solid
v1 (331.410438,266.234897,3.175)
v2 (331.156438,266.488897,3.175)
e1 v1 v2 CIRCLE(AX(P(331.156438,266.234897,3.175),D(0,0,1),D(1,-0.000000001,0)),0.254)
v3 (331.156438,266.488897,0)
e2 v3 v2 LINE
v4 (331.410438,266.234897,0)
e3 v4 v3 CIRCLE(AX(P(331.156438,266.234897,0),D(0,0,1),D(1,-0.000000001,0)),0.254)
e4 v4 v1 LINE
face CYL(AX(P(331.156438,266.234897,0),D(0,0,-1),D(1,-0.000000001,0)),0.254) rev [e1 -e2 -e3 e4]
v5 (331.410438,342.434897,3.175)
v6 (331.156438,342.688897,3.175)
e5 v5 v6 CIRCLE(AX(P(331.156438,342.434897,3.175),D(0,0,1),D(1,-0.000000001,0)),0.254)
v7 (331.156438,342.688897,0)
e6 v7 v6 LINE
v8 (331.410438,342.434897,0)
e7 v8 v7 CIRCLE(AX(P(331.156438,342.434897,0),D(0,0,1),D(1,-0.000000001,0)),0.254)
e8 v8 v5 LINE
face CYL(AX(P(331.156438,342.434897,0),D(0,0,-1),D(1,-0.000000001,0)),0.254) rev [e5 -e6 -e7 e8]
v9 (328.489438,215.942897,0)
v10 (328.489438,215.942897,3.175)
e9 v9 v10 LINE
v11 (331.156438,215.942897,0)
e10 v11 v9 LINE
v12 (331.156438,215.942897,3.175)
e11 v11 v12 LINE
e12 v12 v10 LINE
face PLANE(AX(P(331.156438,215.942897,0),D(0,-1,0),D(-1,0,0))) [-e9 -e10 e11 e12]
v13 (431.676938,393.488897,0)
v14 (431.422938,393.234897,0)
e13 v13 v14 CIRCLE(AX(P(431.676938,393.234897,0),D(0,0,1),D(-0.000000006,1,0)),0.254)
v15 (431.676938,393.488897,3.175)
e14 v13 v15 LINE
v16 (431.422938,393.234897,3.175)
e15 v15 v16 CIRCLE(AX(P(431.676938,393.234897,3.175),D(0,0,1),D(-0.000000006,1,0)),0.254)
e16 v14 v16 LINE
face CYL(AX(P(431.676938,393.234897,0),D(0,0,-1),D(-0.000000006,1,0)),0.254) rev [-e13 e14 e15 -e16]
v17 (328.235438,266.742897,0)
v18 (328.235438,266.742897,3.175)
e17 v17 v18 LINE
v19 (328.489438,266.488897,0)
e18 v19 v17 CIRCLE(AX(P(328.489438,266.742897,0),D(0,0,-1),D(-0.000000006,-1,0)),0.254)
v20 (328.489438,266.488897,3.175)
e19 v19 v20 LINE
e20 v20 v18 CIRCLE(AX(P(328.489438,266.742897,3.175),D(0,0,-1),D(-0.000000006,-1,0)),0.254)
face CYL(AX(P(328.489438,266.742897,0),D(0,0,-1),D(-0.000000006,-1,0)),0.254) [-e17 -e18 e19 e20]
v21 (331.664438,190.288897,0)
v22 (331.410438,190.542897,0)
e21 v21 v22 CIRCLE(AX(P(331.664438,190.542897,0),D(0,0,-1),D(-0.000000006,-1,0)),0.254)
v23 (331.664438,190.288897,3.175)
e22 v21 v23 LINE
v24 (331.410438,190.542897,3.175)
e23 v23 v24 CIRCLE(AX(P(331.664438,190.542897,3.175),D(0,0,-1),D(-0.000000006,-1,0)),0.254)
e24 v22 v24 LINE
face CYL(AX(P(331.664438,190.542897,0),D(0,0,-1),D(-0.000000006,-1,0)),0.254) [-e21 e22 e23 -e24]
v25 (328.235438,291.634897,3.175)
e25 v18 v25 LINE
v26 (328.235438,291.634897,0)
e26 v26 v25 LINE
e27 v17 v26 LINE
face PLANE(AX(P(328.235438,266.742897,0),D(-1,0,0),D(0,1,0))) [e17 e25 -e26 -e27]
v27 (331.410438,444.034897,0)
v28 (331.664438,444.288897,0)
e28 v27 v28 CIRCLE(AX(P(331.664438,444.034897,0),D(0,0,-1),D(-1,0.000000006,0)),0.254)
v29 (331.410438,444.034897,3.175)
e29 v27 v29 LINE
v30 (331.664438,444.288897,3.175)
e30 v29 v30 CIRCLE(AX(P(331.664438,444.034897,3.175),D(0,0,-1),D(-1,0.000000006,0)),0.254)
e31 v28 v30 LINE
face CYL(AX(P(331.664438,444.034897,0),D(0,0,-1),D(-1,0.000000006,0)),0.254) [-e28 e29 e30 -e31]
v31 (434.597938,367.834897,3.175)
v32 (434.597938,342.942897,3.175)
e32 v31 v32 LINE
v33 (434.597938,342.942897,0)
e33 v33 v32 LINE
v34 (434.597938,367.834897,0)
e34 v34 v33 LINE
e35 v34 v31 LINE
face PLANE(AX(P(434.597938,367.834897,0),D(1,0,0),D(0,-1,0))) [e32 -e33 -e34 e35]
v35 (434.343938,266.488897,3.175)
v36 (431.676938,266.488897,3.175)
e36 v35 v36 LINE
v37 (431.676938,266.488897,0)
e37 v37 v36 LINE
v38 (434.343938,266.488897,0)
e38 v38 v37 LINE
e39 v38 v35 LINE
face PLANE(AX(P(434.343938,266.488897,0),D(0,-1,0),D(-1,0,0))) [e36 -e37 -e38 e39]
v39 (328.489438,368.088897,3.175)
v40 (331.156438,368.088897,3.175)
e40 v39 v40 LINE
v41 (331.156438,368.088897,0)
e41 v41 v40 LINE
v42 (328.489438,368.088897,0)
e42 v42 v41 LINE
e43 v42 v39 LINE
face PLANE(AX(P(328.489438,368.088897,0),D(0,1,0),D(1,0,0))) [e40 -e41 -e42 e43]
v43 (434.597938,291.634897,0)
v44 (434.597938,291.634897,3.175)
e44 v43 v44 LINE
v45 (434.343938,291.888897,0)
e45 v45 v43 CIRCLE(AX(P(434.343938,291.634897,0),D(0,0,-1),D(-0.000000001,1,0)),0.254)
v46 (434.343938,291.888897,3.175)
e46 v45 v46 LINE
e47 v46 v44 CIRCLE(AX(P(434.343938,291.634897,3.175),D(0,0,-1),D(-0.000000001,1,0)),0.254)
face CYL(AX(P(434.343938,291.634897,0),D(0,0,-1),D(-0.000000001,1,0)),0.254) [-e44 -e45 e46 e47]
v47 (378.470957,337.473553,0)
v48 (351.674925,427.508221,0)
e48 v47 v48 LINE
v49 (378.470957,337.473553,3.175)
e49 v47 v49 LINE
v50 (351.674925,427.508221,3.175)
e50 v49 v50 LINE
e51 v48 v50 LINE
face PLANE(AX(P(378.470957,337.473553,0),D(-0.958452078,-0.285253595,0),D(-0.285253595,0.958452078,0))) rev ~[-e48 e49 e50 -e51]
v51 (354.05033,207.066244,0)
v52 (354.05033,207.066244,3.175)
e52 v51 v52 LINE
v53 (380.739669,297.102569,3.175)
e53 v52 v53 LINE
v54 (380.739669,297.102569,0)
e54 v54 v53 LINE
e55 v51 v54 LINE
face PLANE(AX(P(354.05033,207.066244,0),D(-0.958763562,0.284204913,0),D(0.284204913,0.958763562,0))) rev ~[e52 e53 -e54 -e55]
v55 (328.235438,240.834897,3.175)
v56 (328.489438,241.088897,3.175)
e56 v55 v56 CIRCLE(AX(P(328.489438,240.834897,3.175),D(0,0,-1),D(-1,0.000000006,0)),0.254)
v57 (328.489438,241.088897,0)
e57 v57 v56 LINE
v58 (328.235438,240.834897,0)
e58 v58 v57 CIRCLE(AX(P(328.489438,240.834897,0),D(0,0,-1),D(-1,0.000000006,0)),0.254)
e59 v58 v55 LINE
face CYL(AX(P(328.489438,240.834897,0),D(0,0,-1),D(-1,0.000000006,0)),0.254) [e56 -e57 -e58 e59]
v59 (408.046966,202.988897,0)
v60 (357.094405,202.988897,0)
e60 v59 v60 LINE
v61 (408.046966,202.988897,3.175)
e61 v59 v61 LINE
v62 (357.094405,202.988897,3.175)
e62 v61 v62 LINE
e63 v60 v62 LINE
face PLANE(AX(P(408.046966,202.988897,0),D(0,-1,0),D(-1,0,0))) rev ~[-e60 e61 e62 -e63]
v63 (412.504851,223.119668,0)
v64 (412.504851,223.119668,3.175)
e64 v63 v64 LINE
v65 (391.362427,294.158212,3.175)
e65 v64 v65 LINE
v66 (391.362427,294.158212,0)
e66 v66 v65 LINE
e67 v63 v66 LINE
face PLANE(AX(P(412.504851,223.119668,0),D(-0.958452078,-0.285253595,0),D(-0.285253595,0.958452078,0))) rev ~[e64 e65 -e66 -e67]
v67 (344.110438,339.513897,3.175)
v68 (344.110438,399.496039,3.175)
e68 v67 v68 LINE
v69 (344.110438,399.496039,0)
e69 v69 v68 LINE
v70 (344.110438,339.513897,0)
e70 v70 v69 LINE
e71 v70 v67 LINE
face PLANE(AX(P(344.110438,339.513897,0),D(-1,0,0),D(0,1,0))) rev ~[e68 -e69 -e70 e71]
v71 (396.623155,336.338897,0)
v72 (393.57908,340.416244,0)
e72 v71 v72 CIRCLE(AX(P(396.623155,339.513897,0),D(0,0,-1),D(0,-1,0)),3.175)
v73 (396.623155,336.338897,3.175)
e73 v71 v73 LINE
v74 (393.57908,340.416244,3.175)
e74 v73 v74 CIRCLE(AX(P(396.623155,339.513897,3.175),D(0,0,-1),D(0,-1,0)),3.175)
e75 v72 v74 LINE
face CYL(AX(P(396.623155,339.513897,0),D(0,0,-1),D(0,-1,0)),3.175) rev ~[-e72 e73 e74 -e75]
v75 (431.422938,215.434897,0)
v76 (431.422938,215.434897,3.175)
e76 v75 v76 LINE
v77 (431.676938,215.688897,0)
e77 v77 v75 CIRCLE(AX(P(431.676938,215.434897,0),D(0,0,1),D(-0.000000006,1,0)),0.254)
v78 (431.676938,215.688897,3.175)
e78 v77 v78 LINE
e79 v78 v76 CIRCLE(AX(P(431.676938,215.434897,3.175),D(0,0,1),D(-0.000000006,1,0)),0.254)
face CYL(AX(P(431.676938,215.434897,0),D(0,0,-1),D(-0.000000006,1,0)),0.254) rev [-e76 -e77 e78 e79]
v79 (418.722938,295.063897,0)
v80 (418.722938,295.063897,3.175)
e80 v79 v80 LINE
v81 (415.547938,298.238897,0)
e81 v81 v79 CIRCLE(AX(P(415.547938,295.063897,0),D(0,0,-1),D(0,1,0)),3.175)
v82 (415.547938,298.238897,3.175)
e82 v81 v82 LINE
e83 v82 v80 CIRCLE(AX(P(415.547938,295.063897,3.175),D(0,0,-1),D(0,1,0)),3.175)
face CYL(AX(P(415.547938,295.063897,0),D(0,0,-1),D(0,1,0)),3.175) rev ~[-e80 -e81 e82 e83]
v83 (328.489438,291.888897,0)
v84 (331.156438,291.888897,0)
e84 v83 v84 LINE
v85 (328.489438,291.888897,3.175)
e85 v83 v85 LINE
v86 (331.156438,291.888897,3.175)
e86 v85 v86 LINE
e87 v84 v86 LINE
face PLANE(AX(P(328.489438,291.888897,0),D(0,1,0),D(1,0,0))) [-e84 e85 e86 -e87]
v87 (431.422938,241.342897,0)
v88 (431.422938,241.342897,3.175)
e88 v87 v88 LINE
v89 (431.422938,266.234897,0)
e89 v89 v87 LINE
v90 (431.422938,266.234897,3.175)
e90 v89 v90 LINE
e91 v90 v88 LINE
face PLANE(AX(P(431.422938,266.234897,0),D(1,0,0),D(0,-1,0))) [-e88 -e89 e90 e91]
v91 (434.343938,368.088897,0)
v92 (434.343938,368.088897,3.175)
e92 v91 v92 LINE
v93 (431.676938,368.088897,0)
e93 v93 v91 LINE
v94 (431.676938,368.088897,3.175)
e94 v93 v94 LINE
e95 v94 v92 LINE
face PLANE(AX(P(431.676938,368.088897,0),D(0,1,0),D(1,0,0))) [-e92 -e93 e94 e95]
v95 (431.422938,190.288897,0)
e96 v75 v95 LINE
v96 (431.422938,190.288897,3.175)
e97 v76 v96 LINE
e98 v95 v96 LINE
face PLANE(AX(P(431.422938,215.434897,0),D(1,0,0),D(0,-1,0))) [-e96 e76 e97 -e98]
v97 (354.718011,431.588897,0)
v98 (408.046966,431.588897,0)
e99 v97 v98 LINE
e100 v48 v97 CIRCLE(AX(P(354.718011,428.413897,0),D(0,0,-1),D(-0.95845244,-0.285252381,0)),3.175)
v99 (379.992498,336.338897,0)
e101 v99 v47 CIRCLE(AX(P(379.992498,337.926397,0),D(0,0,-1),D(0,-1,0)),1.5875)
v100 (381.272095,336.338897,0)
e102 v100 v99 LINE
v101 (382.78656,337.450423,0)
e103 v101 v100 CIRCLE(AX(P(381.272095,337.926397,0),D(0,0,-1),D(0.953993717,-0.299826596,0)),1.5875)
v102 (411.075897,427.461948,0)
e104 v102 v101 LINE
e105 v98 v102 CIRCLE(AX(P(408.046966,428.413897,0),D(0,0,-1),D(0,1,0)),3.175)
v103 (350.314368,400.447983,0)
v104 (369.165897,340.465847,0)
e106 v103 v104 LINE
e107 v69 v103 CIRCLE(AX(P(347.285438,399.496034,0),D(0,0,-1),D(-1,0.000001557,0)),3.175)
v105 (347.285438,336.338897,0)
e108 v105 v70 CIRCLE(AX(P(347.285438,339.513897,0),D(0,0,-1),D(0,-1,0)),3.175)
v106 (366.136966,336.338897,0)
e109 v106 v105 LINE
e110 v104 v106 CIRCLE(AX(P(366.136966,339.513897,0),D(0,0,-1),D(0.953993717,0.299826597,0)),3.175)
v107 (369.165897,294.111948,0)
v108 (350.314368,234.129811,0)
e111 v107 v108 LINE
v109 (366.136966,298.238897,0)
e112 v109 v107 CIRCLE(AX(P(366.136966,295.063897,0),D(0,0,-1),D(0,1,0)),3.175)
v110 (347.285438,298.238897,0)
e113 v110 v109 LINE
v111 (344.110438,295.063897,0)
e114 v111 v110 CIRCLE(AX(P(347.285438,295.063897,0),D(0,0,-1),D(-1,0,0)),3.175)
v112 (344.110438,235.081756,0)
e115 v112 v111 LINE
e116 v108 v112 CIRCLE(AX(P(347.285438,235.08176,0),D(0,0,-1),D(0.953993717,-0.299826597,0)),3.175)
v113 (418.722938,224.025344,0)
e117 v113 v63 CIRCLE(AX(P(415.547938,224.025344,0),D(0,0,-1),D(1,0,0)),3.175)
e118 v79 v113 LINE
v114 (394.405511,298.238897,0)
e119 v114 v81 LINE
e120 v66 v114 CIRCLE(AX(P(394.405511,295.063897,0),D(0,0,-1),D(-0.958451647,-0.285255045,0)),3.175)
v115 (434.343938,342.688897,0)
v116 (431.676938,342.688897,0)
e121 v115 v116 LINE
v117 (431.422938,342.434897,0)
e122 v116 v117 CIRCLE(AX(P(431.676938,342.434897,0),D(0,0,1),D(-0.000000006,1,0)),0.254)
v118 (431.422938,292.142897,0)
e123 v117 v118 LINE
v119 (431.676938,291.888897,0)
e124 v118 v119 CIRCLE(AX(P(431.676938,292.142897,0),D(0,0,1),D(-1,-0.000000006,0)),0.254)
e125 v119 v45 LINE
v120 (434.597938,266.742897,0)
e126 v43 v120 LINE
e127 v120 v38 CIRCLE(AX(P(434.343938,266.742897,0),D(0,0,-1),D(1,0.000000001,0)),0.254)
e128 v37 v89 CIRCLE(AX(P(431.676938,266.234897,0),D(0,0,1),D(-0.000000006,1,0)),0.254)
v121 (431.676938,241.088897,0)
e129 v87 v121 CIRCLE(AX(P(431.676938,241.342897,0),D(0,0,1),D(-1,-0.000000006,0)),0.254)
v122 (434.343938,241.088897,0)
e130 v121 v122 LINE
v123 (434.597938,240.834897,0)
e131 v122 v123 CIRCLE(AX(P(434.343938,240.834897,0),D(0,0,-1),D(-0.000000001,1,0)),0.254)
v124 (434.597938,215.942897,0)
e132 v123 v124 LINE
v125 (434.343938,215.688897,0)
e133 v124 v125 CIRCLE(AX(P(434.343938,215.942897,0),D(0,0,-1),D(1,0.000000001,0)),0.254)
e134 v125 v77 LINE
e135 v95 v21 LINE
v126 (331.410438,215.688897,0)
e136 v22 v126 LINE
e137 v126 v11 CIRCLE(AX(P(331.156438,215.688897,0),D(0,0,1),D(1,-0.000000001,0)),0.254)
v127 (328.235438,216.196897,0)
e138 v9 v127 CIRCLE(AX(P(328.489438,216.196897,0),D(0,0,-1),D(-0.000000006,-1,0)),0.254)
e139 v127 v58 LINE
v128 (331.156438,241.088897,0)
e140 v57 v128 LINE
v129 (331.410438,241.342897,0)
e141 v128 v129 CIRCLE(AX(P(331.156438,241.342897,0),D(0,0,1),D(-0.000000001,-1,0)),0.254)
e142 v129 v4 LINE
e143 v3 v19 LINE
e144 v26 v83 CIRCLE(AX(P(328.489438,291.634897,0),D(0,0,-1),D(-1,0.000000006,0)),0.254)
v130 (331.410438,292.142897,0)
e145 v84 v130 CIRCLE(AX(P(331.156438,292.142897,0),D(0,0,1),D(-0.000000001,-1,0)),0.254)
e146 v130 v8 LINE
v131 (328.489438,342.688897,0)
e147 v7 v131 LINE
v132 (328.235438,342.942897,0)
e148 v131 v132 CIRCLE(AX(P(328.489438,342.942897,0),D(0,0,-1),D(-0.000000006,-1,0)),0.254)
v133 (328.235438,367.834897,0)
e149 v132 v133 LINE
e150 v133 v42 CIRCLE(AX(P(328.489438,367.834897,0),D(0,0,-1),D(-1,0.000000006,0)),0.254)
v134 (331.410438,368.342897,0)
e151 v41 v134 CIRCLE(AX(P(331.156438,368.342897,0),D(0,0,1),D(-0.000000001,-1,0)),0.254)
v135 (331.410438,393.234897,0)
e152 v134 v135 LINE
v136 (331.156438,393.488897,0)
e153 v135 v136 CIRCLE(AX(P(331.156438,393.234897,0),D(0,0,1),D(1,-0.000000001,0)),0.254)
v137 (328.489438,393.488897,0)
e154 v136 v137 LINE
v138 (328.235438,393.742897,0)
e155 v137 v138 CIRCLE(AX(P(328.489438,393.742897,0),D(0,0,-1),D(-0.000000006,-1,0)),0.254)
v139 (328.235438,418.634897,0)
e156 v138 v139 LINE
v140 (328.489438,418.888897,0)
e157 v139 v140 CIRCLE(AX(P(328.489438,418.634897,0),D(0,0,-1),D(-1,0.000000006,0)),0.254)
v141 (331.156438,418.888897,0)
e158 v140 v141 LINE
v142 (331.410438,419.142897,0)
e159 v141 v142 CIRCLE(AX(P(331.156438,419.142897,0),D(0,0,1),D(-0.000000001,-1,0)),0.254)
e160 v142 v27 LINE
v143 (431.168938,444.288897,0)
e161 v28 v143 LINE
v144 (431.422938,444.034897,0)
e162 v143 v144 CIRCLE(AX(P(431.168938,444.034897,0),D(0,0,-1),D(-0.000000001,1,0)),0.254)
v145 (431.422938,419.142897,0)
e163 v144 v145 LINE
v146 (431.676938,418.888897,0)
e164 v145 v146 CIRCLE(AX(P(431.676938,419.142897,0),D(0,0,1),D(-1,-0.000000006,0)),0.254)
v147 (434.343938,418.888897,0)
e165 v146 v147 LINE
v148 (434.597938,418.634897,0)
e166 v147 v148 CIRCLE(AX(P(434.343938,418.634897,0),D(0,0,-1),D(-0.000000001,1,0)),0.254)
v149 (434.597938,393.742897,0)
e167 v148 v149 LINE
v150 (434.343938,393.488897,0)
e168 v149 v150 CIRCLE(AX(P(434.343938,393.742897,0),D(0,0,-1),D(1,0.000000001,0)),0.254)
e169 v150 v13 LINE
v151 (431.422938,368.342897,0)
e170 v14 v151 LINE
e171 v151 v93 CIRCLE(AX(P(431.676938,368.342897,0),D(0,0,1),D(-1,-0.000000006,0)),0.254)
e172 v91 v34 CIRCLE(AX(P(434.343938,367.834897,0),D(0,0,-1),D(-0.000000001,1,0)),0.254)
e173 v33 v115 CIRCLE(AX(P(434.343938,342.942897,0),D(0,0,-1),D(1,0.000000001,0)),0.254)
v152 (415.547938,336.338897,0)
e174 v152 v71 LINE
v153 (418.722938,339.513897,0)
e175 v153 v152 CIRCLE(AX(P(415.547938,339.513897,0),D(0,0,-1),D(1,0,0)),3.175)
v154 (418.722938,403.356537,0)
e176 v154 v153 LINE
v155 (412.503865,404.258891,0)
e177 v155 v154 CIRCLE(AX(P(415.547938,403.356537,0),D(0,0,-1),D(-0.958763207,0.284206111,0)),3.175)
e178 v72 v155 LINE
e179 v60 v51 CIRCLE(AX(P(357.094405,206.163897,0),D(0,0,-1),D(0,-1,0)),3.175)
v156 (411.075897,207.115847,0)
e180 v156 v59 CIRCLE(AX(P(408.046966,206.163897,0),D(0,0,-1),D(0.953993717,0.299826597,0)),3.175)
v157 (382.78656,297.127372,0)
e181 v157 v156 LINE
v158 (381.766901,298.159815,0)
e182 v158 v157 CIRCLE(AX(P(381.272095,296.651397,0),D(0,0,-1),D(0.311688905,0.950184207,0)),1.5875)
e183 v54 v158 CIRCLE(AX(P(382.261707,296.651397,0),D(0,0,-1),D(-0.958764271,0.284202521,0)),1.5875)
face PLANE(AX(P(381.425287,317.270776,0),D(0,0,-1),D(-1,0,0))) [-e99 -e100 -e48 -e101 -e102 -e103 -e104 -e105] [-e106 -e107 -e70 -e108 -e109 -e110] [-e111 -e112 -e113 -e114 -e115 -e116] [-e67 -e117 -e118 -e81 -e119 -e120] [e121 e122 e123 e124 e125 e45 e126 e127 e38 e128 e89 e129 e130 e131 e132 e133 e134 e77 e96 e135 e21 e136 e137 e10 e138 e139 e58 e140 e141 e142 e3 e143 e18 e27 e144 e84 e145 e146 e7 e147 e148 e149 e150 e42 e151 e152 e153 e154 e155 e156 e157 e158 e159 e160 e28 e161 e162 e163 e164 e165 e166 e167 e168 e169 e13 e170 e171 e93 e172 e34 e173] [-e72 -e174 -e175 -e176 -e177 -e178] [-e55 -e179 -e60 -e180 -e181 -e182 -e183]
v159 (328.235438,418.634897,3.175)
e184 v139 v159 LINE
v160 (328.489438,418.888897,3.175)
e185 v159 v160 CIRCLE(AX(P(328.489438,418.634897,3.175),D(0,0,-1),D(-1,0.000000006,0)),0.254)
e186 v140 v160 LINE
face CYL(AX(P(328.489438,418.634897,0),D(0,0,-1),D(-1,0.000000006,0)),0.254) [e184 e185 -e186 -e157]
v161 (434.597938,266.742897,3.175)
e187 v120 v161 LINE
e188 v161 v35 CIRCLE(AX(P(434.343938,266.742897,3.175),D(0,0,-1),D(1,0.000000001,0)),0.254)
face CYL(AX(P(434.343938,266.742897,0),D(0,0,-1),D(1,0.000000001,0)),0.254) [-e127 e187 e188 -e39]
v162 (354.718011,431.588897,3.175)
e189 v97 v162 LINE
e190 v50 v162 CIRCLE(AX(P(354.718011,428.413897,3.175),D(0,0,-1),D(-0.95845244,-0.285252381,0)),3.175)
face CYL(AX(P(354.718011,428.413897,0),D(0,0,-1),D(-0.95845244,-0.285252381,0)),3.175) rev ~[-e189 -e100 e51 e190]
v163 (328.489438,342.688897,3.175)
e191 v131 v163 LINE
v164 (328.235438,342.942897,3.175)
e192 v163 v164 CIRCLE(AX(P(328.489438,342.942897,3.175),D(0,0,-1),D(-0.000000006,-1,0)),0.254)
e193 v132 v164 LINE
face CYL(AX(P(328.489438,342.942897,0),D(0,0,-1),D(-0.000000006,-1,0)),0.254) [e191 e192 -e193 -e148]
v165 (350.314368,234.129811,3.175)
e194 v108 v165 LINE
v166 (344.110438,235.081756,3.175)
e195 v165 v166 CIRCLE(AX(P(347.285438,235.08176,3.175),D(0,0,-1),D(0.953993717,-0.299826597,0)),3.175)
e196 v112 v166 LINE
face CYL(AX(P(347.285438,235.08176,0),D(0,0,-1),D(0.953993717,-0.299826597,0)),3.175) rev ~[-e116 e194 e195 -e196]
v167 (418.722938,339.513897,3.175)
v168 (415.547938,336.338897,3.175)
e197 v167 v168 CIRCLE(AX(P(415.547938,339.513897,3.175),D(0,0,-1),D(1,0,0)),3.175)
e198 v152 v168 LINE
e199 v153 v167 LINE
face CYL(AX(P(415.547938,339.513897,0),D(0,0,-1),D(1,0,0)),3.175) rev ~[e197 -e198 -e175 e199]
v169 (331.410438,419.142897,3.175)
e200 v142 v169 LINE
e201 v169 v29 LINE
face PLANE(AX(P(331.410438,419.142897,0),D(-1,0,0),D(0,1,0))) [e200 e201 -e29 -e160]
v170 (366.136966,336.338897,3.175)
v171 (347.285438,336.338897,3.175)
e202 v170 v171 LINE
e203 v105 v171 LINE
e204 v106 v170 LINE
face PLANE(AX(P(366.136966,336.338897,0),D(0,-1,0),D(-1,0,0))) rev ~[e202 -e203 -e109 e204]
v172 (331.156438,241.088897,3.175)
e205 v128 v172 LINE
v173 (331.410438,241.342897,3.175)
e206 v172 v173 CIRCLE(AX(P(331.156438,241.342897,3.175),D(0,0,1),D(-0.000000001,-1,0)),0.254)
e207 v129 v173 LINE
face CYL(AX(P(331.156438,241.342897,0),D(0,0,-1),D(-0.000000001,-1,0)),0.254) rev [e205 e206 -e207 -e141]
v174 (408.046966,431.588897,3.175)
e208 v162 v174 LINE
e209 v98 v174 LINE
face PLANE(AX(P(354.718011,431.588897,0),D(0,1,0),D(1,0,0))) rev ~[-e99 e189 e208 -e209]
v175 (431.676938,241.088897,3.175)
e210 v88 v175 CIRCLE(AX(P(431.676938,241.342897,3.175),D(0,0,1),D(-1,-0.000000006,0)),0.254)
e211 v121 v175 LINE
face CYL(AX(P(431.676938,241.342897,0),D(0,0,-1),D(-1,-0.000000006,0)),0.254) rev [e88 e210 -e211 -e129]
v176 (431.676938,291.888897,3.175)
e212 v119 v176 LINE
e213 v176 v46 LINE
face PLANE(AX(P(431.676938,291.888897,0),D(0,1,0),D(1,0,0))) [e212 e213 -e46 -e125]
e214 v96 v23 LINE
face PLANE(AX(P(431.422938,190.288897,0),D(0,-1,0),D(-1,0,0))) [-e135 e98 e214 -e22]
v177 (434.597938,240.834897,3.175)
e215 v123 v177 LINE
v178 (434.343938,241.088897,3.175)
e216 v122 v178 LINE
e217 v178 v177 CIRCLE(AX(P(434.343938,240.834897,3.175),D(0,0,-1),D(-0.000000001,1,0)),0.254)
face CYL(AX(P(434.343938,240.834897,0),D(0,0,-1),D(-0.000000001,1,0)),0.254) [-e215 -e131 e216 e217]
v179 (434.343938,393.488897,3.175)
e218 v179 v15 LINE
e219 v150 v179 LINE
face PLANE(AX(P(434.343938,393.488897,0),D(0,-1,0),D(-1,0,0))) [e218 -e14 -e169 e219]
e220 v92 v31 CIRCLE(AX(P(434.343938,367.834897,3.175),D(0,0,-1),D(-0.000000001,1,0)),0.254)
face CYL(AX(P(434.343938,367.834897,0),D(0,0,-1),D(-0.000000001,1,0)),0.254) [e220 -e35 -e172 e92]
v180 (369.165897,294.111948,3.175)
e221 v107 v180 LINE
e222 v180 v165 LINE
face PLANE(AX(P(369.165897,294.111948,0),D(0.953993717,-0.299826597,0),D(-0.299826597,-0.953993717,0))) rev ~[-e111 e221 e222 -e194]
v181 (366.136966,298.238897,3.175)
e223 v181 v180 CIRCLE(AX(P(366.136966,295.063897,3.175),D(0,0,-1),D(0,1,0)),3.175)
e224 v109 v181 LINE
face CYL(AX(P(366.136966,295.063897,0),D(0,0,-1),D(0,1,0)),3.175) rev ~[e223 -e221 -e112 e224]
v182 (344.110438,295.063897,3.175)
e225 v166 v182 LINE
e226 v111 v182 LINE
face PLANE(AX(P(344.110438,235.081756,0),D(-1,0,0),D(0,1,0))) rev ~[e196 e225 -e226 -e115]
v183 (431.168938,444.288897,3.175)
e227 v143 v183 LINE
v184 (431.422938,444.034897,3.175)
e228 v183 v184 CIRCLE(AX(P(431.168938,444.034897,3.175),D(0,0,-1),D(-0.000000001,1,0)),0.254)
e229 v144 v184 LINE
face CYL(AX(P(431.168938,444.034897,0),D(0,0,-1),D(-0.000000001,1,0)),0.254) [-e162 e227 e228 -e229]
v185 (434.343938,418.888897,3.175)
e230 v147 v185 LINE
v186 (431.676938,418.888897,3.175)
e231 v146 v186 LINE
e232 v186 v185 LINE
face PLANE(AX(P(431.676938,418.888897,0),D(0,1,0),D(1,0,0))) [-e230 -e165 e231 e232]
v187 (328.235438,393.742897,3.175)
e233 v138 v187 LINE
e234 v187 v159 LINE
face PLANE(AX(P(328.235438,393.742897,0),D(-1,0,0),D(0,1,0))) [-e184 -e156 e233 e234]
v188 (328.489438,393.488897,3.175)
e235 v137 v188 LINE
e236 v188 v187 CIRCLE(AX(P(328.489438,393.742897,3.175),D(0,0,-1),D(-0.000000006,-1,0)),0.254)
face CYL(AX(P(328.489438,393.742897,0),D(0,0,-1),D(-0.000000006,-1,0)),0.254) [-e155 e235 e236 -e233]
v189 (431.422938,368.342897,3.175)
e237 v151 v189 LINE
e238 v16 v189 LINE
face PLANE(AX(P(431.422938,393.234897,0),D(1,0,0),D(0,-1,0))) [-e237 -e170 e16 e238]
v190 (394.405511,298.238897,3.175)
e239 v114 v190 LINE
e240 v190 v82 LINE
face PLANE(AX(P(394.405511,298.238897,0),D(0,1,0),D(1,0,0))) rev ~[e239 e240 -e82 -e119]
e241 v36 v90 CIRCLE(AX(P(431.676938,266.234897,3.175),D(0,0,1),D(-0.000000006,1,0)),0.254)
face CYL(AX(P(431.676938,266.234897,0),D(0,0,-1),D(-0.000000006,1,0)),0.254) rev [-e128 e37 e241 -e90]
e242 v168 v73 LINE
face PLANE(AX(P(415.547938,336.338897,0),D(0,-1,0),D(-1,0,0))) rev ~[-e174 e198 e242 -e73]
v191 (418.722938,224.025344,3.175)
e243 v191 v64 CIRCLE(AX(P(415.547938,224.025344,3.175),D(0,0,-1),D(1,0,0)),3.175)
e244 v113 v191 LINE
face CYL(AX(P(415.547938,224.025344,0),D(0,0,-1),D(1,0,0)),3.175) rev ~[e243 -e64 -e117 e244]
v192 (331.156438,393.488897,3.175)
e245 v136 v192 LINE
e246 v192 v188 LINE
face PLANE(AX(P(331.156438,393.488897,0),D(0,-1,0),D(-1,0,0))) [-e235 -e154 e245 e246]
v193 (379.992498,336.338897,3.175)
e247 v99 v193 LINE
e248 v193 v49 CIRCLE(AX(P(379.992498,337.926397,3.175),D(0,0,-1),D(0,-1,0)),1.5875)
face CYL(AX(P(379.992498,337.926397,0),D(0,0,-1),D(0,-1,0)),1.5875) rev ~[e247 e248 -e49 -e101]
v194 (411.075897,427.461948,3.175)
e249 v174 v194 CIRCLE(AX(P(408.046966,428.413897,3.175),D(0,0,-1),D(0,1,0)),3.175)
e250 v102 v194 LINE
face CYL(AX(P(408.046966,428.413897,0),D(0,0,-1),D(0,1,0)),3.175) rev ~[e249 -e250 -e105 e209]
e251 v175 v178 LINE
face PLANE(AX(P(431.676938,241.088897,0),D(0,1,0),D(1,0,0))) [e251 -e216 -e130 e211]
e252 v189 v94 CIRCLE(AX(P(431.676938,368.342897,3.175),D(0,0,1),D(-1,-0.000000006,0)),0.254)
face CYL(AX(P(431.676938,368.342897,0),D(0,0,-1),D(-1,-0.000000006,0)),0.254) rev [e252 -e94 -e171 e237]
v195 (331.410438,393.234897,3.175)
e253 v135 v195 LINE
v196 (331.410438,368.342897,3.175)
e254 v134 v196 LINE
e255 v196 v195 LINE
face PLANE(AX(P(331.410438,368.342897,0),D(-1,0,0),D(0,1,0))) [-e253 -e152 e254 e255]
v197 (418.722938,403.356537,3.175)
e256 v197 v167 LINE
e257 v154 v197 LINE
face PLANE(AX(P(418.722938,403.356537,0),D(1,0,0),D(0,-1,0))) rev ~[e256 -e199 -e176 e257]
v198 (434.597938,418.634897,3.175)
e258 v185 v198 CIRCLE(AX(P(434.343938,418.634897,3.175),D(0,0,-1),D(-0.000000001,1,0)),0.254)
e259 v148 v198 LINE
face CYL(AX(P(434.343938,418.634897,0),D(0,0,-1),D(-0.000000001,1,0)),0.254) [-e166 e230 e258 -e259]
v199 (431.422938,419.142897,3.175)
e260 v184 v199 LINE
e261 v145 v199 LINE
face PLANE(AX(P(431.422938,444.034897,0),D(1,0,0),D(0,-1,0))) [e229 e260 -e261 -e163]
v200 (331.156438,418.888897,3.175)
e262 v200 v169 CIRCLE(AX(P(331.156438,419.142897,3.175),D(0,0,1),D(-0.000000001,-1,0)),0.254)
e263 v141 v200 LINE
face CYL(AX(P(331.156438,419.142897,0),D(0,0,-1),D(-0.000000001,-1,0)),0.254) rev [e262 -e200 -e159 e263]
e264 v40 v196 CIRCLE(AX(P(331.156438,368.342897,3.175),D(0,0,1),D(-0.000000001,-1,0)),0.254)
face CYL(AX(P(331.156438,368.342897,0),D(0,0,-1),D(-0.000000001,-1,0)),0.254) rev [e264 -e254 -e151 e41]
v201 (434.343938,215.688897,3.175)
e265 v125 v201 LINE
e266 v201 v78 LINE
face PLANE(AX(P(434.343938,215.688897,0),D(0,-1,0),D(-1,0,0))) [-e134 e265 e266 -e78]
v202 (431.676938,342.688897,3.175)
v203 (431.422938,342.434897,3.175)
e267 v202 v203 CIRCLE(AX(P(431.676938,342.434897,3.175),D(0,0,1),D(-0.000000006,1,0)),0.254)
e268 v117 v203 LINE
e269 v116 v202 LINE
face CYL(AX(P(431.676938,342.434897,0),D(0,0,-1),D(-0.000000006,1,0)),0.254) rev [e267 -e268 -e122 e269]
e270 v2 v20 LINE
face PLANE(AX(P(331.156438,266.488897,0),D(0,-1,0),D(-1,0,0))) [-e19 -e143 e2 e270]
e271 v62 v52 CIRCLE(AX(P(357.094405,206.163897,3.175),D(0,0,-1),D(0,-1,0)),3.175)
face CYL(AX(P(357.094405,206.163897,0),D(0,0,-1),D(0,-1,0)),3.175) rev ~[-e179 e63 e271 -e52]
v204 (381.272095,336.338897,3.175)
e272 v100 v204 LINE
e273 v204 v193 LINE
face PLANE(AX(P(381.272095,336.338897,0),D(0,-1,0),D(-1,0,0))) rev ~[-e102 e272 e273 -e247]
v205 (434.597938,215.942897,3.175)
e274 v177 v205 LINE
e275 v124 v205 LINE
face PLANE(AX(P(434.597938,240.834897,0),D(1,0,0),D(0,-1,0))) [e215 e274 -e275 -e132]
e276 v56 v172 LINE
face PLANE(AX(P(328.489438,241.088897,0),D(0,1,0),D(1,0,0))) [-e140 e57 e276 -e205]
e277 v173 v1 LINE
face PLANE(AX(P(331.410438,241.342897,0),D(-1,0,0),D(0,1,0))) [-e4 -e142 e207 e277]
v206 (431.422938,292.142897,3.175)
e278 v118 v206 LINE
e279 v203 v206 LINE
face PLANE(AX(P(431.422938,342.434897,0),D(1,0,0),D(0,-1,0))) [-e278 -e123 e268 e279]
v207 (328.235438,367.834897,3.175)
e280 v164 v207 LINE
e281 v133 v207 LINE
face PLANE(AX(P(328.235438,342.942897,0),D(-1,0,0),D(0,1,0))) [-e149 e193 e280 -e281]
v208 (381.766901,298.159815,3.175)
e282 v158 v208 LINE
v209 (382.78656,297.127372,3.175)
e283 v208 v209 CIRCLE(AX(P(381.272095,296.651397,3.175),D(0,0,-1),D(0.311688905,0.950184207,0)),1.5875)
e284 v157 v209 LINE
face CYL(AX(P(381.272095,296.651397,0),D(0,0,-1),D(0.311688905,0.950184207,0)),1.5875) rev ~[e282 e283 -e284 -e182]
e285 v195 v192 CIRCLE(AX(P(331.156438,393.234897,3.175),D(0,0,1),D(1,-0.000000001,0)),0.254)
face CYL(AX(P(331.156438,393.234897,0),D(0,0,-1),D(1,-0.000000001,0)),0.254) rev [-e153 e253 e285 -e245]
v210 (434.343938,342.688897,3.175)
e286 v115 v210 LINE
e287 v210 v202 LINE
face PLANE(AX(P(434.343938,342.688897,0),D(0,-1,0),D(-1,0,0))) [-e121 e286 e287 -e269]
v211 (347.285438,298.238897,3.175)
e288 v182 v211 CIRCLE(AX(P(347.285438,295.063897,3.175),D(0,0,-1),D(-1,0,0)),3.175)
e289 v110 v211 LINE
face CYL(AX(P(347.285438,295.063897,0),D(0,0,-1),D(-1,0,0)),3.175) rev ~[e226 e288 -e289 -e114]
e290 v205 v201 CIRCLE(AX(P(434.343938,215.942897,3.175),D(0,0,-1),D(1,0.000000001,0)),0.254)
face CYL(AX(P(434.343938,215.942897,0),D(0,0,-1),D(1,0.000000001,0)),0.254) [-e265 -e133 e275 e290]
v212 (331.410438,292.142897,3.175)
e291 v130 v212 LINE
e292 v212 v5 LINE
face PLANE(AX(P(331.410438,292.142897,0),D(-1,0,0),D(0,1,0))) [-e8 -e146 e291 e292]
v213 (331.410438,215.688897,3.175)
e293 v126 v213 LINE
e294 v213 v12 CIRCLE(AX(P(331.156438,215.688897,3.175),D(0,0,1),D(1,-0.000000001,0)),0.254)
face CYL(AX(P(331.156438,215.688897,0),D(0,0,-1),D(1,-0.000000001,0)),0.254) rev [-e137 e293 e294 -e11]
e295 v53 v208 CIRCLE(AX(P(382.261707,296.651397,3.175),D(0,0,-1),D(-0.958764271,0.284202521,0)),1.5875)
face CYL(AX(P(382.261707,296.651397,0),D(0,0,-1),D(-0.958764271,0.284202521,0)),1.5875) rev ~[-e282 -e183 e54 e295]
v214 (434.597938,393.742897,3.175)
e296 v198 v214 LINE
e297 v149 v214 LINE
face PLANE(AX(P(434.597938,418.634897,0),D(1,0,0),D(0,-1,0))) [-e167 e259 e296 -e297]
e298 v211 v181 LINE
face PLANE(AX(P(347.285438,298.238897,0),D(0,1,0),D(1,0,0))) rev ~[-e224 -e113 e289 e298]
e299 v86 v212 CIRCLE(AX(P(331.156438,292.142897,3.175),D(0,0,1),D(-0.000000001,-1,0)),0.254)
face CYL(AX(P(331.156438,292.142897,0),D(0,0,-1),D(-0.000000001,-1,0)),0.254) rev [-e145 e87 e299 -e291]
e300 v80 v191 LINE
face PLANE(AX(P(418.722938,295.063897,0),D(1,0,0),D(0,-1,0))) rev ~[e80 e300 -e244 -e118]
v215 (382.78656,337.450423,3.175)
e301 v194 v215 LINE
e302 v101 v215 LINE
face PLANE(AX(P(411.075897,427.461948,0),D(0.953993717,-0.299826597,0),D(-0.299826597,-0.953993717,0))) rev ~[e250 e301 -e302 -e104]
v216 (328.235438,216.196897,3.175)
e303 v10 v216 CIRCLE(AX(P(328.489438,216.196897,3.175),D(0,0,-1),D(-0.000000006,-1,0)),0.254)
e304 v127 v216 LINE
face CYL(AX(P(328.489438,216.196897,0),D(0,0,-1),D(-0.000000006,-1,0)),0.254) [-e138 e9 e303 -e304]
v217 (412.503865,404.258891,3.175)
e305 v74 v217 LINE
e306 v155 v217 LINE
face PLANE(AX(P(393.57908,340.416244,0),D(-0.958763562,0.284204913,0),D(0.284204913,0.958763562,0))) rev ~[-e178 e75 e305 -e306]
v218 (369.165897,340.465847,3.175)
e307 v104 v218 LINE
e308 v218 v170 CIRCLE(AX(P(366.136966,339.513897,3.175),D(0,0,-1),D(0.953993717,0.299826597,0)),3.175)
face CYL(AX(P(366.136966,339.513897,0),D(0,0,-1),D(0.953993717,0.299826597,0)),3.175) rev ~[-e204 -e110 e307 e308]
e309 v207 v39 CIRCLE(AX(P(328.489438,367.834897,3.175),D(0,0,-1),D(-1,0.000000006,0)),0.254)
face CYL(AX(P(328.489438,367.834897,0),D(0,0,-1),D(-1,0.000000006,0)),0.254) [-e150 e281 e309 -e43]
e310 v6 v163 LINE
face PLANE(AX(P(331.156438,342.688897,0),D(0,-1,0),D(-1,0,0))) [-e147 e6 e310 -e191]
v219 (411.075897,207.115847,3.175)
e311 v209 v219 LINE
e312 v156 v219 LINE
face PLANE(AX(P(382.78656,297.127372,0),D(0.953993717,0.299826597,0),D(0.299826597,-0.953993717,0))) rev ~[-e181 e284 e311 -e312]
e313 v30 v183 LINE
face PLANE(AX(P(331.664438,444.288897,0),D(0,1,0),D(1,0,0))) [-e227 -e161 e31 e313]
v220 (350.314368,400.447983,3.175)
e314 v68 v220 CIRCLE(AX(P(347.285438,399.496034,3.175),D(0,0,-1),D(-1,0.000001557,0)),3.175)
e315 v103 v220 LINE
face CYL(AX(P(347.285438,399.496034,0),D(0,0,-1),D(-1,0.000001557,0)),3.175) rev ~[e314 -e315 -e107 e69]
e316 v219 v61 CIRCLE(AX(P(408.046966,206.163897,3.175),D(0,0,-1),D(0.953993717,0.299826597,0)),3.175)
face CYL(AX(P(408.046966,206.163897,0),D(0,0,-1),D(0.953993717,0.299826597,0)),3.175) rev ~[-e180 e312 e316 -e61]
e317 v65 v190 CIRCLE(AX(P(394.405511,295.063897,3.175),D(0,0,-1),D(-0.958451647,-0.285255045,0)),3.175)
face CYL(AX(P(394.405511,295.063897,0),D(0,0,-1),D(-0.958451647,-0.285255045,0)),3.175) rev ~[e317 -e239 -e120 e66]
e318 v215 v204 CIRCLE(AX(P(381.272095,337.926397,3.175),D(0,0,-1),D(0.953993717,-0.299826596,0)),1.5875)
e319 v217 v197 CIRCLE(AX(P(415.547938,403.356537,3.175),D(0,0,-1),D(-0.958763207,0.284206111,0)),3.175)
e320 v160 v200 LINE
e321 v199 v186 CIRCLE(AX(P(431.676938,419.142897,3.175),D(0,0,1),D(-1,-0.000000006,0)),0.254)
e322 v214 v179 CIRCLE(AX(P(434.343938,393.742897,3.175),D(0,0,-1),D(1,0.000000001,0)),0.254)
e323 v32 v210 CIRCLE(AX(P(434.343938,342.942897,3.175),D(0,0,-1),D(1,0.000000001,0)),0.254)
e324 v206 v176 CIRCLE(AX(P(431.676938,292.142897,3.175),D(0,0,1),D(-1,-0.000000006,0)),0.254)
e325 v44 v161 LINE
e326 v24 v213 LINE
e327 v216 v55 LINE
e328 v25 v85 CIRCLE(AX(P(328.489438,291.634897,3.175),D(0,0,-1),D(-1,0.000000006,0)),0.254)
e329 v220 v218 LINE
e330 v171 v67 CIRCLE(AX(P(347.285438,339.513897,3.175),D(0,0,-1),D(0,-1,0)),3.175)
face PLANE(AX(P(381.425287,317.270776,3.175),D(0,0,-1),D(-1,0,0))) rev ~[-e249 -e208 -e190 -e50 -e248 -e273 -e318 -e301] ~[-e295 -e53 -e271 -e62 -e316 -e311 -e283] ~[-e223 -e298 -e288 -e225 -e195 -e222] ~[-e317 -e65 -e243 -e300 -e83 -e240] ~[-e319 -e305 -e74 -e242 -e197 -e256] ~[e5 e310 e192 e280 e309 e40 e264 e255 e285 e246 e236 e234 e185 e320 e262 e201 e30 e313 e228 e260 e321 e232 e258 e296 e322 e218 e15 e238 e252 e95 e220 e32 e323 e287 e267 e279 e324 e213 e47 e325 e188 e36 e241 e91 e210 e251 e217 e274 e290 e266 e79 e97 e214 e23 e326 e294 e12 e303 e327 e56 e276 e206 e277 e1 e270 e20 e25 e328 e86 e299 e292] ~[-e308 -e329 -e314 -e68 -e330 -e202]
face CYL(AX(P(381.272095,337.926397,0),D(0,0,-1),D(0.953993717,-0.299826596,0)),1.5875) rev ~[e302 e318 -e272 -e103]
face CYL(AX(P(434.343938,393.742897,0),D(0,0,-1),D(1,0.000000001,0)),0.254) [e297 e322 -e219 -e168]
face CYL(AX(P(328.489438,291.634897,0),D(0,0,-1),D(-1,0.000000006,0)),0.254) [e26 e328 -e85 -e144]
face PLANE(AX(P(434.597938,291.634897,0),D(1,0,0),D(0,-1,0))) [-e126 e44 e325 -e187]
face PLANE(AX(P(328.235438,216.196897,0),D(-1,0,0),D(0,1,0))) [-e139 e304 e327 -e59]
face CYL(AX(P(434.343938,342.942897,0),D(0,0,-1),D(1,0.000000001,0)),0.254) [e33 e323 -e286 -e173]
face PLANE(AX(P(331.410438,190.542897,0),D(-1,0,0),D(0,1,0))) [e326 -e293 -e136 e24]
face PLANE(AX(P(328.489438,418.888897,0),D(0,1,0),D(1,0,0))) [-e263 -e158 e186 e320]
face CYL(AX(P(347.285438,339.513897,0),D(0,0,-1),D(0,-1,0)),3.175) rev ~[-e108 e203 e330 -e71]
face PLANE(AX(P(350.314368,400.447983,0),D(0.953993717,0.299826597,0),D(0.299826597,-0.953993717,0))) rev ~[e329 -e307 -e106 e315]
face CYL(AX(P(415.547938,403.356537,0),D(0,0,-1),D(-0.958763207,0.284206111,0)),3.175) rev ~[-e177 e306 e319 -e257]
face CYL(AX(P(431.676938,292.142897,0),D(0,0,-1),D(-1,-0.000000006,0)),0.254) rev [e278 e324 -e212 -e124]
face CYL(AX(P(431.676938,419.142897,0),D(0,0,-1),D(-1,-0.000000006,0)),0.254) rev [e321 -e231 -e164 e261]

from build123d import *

# Parameters (mm, degrees)
BOSS_EXTRUDE3_DEPTH = 3.175


with BuildPart() as part:
    # Model → Boss-Extrude3 (new body)
    with BuildSketch(Plane.XY):
        with BuildLine():
            Line((431.422937797, 190.288897242), (331.664437797, 190.288897242))
            ThreePointArc((331.664437797, 190.288897242), (331.484832675, 190.36329212), (331.410437797, 190.542897242))
            Line((331.410437797, 190.542897242), (331.410437797, 215.688897242))
            ThreePointArc((331.410437797, 215.688897242), (331.33604292, 215.868502364), (331.156437797, 215.942897242))
            Line((331.156437797, 215.942897242), (328.489437797, 215.942897242))
            ThreePointArc((328.489437797, 215.942897242), (328.309832675, 216.01729212), (328.235437797, 216.196897242))
            Line((328.235437797, 216.196897242), (328.235437797, 240.834897242))
            ThreePointArc((328.235437797, 240.834897242), (328.309832675, 241.014502364), (328.489437797, 241.088897242))
            Line((328.489437797, 241.088897242), (331.156437797, 241.088897242))
            ThreePointArc((331.156437797, 241.088897242), (331.33604292, 241.16329212), (331.410437797, 241.342897242))
            Line((331.410437797, 241.342897242), (331.410437797, 266.234897242))
            ThreePointArc((331.410437797, 266.234897242), (331.33604292, 266.414502364), (331.156437797, 266.488897242))
            Line((331.156437797, 266.488897242), (328.489437797, 266.488897242))
            ThreePointArc((328.489437797, 266.488897242), (328.309832675, 266.56329212), (328.235437797, 266.742897242))
            Line((328.235437797, 266.742897242), (328.235437797, 291.634897242))
            ThreePointArc((328.235437797, 291.634897242), (328.309832675, 291.814502364), (328.489437797, 291.888897242))
            Line((328.489437797, 291.888897242), (331.156437797, 291.888897242))
            ThreePointArc((331.156437797, 291.888897242), (331.33604292, 291.96329212), (331.410437797, 292.142897242))
            Line((331.410437797, 292.142897242), (331.410437797, 342.434897242))
            ThreePointArc((331.410437797, 342.434897242), (331.33604292, 342.614502364), (331.156437797, 342.688897242))
            Line((331.156437797, 342.688897242), (328.489437797, 342.688897242))
            ThreePointArc((328.489437797, 342.688897242), (328.309832675, 342.76329212), (328.235437797, 342.942897242))
            Line((328.235437797, 342.942897242), (328.235437797, 367.834897242))
            ThreePointArc((328.235437797, 367.834897242), (328.309832675, 368.014502364), (328.489437797, 368.088897242))
            Line((328.489437797, 368.088897242), (331.156437797, 368.088897242))
            ThreePointArc((331.156437797, 368.088897242), (331.33604292, 368.16329212), (331.410437797, 368.342897242))
            Line((331.410437797, 368.342897242), (331.410437797, 393.234897242))
            ThreePointArc((331.410437797, 393.234897242), (331.33604292, 393.414502364), (331.156437797, 393.488897242))
            Line((331.156437797, 393.488897242), (328.489437797, 393.488897242))
            ThreePointArc((328.489437797, 393.488897242), (328.309832675, 393.56329212), (328.235437797, 393.742897242))
            Line((328.235437797, 393.742897242), (328.235437797, 418.634897242))
            ThreePointArc((328.235437797, 418.634897242), (328.309832675, 418.814502364), (328.489437797, 418.888897242))
            Line((328.489437797, 418.888897242), (331.156437797, 418.888897242))
            ThreePointArc((331.156437797, 418.888897242), (331.33604292, 418.96329212), (331.410437797, 419.142897242))
            Line((331.410437797, 419.142897242), (331.410437797, 444.034897242))
            ThreePointArc((331.410437797, 444.034897242), (331.484832675, 444.214502364), (331.664437797, 444.288897242))
            Line((331.664437797, 444.288897242), (431.168937797, 444.288897242))
            ThreePointArc((431.168937797, 444.288897242), (431.34854292, 444.214502364), (431.422937797, 444.034897242))
            Line((431.422937797, 444.034897242), (431.422937797, 419.142897242))
            ThreePointArc((431.422937797, 419.142897242), (431.497332675, 418.96329212), (431.676937797, 418.888897242))
            Line((431.676937797, 418.888897242), (434.343937797, 418.888897242))
            ThreePointArc((434.343937797, 418.888897242), (434.52354292, 418.814502364), (434.597937797, 418.634897242))
            Line((434.597937797, 418.634897242), (434.597937797, 393.742897242))
            ThreePointArc((434.597937797, 393.742897242), (434.52354292, 393.56329212), (434.343937797, 393.488897242))
            Line((434.343937797, 393.488897242), (431.676937797, 393.488897242))
            ThreePointArc((431.676937797, 393.488897242), (431.497332675, 393.414502364), (431.422937797, 393.234897242))
            Line((431.422937797, 393.234897242), (431.422937797, 368.342897242))
            ThreePointArc((431.422937797, 368.342897242), (431.497332675, 368.16329212), (431.676937797, 368.088897242))
            Line((431.676937797, 368.088897242), (434.343937797, 368.088897242))
            ThreePointArc((434.343937797, 368.088897242), (434.52354292, 368.014502364), (434.597937797, 367.834897242))
            Line((434.597937797, 367.834897242), (434.597937797, 342.942897242))
            ThreePointArc((434.597937797, 342.942897242), (434.52354292, 342.76329212), (434.343937797, 342.688897242))
            Line((434.343937797, 342.688897242), (431.676937797, 342.688897242))
            ThreePointArc((431.676937797, 342.688897242), (431.497332675, 342.614502364), (431.422937797, 342.434897242))
            Line((431.422937797, 342.434897242), (431.422937797, 292.142897242))
            ThreePointArc((431.422937797, 292.142897242), (431.497332675, 291.96329212), (431.676937797, 291.888897242))
            Line((431.676937797, 291.888897242), (434.343937797, 291.888897242))
            ThreePointArc((434.343937797, 291.888897242), (434.52354292, 291.814502364), (434.597937797, 291.634897242))
            Line((434.597937797, 291.634897242), (434.597937797, 266.742897242))
            ThreePointArc((434.597937797, 266.742897242), (434.52354292, 266.56329212), (434.343937797, 266.488897242))
            Line((434.343937797, 266.488897242), (431.676937797, 266.488897242))
            ThreePointArc((431.676937797, 266.488897242), (431.497332675, 266.414502364), (431.422937797, 266.234897242))
            Line((431.422937797, 266.234897242), (431.422937797, 241.342897242))
            ThreePointArc((431.422937797, 241.342897242), (431.497332675, 241.16329212), (431.676937797, 241.088897242))
            Line((431.676937797, 241.088897242), (434.343937797, 241.088897242))
            ThreePointArc((434.343937797, 241.088897242), (434.52354292, 241.014502364), (434.597937797, 240.834897242))
            Line((434.597937797, 240.834897242), (434.597937797, 215.942897242))
            ThreePointArc((434.597937797, 215.942897242), (434.52354292, 215.76329212), (434.343937797, 215.688897242))
            Line((434.343937797, 215.688897242), (431.676937797, 215.688897242))
            ThreePointArc((431.676937797, 215.688897242), (431.497332675, 215.614502364), (431.422937797, 215.434897242))
            Line((431.422937797, 215.434897242), (431.422937797, 190.288897242))
        make_face()
        with BuildLine():
            Line((382.786560027, 297.127371964), (411.075896543, 207.115846687))
            ThreePointArc((411.075896543, 207.115846687), (410.606562601, 204.285309273), (408.046966492, 202.988897242))
            Line((408.046966492, 202.988897242), (357.094405319, 202.988897242))
            ThreePointArc((357.094405319, 202.988897242), (354.550237774, 204.264466668), (354.050329968, 207.066244326))
            Line((354.050329968, 207.066244326), (380.739668991, 297.102568741))
            ThreePointArc((380.739668991, 297.102568741), (381.123130271, 297.75765158), (381.766901137, 298.15981467))
            ThreePointArc((381.766901137, 298.15981467), (382.401598049, 297.766914662), (382.786560027, 297.127371964))
        make_face(mode=Mode.SUBTRACT)
        with BuildLine():
            Line((394.40551129, 298.238897242), (415.547937797, 298.238897242))
            ThreePointArc((415.547937797, 298.238897242), (417.793001827, 297.308961272), (418.722937797, 295.063897242))
            Line((418.722937797, 295.063897242), (418.722937797, 224.025344178))
            ThreePointArc((418.722937797, 224.025344178), (416.005554119, 220.88349563), (412.504851308, 223.119667846))
            Line((412.504851308, 223.119667846), (391.362427311, 294.158212475))
            ThreePointArc((391.362427311, 294.158212475), (391.860302641, 296.961932524), (394.40551129, 298.238897242))
        make_face(mode=Mode.SUBTRACT)
        with BuildLine():
            Line((354.71801129, 431.588897242), (408.046966492, 431.588897242))
            ThreePointArc((408.046966492, 431.588897242), (410.606562601, 430.292485211), (411.075896543, 427.461947797))
            Line((411.075896543, 427.461947797), (382.786560027, 337.45042252))
            ThreePointArc((382.786560027, 337.45042252), (382.211388986, 336.646599187), (381.272095002, 336.338897242))
            Line((381.272095002, 336.338897242), (379.992498353, 336.338897242))
            ThreePointArc((379.992498353, 336.338897242), (379.043481575, 336.653792274), (378.470956978, 337.473552796))
            Line((378.470956978, 337.473552796), (351.674924794, 427.508220933))
            ThreePointArc((351.674924794, 427.508220933), (352.172805279, 430.311936061), (354.71801129, 431.588897242))
        make_face(mode=Mode.SUBTRACT)
        with BuildLine():
            Line((418.722937797, 403.356536927), (418.722937797, 339.513897242))
            ThreePointArc((418.722937797, 339.513897242), (417.793001827, 337.268833212), (415.547937797, 336.338897242))
            Line((415.547937797, 336.338897242), (396.623155319, 336.338897242))
            ThreePointArc((396.623155319, 336.338897242), (394.078987861, 337.614466553), (393.579079886, 340.416244049))
            Line((393.579079886, 340.416244049), (412.503864616, 404.25889133))
            ThreePointArc((412.503864616, 404.25889133), (416.003839459, 406.498634741), (418.722937797, 403.356536927))
        make_face(mode=Mode.SUBTRACT)
        with BuildLine():
            Line((350.314367848, 400.447983443), (369.165896543, 340.465846687))
            ThreePointArc((369.165896543, 340.465846687), (368.696562601, 337.635309273), (366.136966492, 336.338897242))
            Line((366.136966492, 336.338897242), (347.285437797, 336.338897242))
            ThreePointArc((347.285437797, 336.338897242), (345.040373767, 337.268833212), (344.110437797, 339.513897242))
            Line((344.110437797, 339.513897242), (344.110437797, 399.496038941))
            ThreePointArc((344.110437797, 399.496038941), (346.803894766, 402.634304431), (350.314367848, 400.447983443))
        make_face(mode=Mode.SUBTRACT)
        with BuildLine():
            Line((369.165896543, 294.111947797), (350.314367848, 234.129811041))
            ThreePointArc((350.314367848, 234.129811041), (346.803894766, 231.943490053), (344.110437797, 235.081755542))
            Line((344.110437797, 235.081755542), (344.110437797, 295.063897242))
            ThreePointArc((344.110437797, 295.063897242), (345.040373767, 297.308961272), (347.285437797, 298.238897242))
            Line((347.285437797, 298.238897242), (366.136966492, 298.238897242))
            ThreePointArc((366.136966492, 298.238897242), (368.696562601, 296.942485211), (369.165896543, 294.111947797))
        make_face(mode=Mode.SUBTRACT)
    extrude(amount=BOSS_EXTRUDE3_DEPTH)


solid = part.part
